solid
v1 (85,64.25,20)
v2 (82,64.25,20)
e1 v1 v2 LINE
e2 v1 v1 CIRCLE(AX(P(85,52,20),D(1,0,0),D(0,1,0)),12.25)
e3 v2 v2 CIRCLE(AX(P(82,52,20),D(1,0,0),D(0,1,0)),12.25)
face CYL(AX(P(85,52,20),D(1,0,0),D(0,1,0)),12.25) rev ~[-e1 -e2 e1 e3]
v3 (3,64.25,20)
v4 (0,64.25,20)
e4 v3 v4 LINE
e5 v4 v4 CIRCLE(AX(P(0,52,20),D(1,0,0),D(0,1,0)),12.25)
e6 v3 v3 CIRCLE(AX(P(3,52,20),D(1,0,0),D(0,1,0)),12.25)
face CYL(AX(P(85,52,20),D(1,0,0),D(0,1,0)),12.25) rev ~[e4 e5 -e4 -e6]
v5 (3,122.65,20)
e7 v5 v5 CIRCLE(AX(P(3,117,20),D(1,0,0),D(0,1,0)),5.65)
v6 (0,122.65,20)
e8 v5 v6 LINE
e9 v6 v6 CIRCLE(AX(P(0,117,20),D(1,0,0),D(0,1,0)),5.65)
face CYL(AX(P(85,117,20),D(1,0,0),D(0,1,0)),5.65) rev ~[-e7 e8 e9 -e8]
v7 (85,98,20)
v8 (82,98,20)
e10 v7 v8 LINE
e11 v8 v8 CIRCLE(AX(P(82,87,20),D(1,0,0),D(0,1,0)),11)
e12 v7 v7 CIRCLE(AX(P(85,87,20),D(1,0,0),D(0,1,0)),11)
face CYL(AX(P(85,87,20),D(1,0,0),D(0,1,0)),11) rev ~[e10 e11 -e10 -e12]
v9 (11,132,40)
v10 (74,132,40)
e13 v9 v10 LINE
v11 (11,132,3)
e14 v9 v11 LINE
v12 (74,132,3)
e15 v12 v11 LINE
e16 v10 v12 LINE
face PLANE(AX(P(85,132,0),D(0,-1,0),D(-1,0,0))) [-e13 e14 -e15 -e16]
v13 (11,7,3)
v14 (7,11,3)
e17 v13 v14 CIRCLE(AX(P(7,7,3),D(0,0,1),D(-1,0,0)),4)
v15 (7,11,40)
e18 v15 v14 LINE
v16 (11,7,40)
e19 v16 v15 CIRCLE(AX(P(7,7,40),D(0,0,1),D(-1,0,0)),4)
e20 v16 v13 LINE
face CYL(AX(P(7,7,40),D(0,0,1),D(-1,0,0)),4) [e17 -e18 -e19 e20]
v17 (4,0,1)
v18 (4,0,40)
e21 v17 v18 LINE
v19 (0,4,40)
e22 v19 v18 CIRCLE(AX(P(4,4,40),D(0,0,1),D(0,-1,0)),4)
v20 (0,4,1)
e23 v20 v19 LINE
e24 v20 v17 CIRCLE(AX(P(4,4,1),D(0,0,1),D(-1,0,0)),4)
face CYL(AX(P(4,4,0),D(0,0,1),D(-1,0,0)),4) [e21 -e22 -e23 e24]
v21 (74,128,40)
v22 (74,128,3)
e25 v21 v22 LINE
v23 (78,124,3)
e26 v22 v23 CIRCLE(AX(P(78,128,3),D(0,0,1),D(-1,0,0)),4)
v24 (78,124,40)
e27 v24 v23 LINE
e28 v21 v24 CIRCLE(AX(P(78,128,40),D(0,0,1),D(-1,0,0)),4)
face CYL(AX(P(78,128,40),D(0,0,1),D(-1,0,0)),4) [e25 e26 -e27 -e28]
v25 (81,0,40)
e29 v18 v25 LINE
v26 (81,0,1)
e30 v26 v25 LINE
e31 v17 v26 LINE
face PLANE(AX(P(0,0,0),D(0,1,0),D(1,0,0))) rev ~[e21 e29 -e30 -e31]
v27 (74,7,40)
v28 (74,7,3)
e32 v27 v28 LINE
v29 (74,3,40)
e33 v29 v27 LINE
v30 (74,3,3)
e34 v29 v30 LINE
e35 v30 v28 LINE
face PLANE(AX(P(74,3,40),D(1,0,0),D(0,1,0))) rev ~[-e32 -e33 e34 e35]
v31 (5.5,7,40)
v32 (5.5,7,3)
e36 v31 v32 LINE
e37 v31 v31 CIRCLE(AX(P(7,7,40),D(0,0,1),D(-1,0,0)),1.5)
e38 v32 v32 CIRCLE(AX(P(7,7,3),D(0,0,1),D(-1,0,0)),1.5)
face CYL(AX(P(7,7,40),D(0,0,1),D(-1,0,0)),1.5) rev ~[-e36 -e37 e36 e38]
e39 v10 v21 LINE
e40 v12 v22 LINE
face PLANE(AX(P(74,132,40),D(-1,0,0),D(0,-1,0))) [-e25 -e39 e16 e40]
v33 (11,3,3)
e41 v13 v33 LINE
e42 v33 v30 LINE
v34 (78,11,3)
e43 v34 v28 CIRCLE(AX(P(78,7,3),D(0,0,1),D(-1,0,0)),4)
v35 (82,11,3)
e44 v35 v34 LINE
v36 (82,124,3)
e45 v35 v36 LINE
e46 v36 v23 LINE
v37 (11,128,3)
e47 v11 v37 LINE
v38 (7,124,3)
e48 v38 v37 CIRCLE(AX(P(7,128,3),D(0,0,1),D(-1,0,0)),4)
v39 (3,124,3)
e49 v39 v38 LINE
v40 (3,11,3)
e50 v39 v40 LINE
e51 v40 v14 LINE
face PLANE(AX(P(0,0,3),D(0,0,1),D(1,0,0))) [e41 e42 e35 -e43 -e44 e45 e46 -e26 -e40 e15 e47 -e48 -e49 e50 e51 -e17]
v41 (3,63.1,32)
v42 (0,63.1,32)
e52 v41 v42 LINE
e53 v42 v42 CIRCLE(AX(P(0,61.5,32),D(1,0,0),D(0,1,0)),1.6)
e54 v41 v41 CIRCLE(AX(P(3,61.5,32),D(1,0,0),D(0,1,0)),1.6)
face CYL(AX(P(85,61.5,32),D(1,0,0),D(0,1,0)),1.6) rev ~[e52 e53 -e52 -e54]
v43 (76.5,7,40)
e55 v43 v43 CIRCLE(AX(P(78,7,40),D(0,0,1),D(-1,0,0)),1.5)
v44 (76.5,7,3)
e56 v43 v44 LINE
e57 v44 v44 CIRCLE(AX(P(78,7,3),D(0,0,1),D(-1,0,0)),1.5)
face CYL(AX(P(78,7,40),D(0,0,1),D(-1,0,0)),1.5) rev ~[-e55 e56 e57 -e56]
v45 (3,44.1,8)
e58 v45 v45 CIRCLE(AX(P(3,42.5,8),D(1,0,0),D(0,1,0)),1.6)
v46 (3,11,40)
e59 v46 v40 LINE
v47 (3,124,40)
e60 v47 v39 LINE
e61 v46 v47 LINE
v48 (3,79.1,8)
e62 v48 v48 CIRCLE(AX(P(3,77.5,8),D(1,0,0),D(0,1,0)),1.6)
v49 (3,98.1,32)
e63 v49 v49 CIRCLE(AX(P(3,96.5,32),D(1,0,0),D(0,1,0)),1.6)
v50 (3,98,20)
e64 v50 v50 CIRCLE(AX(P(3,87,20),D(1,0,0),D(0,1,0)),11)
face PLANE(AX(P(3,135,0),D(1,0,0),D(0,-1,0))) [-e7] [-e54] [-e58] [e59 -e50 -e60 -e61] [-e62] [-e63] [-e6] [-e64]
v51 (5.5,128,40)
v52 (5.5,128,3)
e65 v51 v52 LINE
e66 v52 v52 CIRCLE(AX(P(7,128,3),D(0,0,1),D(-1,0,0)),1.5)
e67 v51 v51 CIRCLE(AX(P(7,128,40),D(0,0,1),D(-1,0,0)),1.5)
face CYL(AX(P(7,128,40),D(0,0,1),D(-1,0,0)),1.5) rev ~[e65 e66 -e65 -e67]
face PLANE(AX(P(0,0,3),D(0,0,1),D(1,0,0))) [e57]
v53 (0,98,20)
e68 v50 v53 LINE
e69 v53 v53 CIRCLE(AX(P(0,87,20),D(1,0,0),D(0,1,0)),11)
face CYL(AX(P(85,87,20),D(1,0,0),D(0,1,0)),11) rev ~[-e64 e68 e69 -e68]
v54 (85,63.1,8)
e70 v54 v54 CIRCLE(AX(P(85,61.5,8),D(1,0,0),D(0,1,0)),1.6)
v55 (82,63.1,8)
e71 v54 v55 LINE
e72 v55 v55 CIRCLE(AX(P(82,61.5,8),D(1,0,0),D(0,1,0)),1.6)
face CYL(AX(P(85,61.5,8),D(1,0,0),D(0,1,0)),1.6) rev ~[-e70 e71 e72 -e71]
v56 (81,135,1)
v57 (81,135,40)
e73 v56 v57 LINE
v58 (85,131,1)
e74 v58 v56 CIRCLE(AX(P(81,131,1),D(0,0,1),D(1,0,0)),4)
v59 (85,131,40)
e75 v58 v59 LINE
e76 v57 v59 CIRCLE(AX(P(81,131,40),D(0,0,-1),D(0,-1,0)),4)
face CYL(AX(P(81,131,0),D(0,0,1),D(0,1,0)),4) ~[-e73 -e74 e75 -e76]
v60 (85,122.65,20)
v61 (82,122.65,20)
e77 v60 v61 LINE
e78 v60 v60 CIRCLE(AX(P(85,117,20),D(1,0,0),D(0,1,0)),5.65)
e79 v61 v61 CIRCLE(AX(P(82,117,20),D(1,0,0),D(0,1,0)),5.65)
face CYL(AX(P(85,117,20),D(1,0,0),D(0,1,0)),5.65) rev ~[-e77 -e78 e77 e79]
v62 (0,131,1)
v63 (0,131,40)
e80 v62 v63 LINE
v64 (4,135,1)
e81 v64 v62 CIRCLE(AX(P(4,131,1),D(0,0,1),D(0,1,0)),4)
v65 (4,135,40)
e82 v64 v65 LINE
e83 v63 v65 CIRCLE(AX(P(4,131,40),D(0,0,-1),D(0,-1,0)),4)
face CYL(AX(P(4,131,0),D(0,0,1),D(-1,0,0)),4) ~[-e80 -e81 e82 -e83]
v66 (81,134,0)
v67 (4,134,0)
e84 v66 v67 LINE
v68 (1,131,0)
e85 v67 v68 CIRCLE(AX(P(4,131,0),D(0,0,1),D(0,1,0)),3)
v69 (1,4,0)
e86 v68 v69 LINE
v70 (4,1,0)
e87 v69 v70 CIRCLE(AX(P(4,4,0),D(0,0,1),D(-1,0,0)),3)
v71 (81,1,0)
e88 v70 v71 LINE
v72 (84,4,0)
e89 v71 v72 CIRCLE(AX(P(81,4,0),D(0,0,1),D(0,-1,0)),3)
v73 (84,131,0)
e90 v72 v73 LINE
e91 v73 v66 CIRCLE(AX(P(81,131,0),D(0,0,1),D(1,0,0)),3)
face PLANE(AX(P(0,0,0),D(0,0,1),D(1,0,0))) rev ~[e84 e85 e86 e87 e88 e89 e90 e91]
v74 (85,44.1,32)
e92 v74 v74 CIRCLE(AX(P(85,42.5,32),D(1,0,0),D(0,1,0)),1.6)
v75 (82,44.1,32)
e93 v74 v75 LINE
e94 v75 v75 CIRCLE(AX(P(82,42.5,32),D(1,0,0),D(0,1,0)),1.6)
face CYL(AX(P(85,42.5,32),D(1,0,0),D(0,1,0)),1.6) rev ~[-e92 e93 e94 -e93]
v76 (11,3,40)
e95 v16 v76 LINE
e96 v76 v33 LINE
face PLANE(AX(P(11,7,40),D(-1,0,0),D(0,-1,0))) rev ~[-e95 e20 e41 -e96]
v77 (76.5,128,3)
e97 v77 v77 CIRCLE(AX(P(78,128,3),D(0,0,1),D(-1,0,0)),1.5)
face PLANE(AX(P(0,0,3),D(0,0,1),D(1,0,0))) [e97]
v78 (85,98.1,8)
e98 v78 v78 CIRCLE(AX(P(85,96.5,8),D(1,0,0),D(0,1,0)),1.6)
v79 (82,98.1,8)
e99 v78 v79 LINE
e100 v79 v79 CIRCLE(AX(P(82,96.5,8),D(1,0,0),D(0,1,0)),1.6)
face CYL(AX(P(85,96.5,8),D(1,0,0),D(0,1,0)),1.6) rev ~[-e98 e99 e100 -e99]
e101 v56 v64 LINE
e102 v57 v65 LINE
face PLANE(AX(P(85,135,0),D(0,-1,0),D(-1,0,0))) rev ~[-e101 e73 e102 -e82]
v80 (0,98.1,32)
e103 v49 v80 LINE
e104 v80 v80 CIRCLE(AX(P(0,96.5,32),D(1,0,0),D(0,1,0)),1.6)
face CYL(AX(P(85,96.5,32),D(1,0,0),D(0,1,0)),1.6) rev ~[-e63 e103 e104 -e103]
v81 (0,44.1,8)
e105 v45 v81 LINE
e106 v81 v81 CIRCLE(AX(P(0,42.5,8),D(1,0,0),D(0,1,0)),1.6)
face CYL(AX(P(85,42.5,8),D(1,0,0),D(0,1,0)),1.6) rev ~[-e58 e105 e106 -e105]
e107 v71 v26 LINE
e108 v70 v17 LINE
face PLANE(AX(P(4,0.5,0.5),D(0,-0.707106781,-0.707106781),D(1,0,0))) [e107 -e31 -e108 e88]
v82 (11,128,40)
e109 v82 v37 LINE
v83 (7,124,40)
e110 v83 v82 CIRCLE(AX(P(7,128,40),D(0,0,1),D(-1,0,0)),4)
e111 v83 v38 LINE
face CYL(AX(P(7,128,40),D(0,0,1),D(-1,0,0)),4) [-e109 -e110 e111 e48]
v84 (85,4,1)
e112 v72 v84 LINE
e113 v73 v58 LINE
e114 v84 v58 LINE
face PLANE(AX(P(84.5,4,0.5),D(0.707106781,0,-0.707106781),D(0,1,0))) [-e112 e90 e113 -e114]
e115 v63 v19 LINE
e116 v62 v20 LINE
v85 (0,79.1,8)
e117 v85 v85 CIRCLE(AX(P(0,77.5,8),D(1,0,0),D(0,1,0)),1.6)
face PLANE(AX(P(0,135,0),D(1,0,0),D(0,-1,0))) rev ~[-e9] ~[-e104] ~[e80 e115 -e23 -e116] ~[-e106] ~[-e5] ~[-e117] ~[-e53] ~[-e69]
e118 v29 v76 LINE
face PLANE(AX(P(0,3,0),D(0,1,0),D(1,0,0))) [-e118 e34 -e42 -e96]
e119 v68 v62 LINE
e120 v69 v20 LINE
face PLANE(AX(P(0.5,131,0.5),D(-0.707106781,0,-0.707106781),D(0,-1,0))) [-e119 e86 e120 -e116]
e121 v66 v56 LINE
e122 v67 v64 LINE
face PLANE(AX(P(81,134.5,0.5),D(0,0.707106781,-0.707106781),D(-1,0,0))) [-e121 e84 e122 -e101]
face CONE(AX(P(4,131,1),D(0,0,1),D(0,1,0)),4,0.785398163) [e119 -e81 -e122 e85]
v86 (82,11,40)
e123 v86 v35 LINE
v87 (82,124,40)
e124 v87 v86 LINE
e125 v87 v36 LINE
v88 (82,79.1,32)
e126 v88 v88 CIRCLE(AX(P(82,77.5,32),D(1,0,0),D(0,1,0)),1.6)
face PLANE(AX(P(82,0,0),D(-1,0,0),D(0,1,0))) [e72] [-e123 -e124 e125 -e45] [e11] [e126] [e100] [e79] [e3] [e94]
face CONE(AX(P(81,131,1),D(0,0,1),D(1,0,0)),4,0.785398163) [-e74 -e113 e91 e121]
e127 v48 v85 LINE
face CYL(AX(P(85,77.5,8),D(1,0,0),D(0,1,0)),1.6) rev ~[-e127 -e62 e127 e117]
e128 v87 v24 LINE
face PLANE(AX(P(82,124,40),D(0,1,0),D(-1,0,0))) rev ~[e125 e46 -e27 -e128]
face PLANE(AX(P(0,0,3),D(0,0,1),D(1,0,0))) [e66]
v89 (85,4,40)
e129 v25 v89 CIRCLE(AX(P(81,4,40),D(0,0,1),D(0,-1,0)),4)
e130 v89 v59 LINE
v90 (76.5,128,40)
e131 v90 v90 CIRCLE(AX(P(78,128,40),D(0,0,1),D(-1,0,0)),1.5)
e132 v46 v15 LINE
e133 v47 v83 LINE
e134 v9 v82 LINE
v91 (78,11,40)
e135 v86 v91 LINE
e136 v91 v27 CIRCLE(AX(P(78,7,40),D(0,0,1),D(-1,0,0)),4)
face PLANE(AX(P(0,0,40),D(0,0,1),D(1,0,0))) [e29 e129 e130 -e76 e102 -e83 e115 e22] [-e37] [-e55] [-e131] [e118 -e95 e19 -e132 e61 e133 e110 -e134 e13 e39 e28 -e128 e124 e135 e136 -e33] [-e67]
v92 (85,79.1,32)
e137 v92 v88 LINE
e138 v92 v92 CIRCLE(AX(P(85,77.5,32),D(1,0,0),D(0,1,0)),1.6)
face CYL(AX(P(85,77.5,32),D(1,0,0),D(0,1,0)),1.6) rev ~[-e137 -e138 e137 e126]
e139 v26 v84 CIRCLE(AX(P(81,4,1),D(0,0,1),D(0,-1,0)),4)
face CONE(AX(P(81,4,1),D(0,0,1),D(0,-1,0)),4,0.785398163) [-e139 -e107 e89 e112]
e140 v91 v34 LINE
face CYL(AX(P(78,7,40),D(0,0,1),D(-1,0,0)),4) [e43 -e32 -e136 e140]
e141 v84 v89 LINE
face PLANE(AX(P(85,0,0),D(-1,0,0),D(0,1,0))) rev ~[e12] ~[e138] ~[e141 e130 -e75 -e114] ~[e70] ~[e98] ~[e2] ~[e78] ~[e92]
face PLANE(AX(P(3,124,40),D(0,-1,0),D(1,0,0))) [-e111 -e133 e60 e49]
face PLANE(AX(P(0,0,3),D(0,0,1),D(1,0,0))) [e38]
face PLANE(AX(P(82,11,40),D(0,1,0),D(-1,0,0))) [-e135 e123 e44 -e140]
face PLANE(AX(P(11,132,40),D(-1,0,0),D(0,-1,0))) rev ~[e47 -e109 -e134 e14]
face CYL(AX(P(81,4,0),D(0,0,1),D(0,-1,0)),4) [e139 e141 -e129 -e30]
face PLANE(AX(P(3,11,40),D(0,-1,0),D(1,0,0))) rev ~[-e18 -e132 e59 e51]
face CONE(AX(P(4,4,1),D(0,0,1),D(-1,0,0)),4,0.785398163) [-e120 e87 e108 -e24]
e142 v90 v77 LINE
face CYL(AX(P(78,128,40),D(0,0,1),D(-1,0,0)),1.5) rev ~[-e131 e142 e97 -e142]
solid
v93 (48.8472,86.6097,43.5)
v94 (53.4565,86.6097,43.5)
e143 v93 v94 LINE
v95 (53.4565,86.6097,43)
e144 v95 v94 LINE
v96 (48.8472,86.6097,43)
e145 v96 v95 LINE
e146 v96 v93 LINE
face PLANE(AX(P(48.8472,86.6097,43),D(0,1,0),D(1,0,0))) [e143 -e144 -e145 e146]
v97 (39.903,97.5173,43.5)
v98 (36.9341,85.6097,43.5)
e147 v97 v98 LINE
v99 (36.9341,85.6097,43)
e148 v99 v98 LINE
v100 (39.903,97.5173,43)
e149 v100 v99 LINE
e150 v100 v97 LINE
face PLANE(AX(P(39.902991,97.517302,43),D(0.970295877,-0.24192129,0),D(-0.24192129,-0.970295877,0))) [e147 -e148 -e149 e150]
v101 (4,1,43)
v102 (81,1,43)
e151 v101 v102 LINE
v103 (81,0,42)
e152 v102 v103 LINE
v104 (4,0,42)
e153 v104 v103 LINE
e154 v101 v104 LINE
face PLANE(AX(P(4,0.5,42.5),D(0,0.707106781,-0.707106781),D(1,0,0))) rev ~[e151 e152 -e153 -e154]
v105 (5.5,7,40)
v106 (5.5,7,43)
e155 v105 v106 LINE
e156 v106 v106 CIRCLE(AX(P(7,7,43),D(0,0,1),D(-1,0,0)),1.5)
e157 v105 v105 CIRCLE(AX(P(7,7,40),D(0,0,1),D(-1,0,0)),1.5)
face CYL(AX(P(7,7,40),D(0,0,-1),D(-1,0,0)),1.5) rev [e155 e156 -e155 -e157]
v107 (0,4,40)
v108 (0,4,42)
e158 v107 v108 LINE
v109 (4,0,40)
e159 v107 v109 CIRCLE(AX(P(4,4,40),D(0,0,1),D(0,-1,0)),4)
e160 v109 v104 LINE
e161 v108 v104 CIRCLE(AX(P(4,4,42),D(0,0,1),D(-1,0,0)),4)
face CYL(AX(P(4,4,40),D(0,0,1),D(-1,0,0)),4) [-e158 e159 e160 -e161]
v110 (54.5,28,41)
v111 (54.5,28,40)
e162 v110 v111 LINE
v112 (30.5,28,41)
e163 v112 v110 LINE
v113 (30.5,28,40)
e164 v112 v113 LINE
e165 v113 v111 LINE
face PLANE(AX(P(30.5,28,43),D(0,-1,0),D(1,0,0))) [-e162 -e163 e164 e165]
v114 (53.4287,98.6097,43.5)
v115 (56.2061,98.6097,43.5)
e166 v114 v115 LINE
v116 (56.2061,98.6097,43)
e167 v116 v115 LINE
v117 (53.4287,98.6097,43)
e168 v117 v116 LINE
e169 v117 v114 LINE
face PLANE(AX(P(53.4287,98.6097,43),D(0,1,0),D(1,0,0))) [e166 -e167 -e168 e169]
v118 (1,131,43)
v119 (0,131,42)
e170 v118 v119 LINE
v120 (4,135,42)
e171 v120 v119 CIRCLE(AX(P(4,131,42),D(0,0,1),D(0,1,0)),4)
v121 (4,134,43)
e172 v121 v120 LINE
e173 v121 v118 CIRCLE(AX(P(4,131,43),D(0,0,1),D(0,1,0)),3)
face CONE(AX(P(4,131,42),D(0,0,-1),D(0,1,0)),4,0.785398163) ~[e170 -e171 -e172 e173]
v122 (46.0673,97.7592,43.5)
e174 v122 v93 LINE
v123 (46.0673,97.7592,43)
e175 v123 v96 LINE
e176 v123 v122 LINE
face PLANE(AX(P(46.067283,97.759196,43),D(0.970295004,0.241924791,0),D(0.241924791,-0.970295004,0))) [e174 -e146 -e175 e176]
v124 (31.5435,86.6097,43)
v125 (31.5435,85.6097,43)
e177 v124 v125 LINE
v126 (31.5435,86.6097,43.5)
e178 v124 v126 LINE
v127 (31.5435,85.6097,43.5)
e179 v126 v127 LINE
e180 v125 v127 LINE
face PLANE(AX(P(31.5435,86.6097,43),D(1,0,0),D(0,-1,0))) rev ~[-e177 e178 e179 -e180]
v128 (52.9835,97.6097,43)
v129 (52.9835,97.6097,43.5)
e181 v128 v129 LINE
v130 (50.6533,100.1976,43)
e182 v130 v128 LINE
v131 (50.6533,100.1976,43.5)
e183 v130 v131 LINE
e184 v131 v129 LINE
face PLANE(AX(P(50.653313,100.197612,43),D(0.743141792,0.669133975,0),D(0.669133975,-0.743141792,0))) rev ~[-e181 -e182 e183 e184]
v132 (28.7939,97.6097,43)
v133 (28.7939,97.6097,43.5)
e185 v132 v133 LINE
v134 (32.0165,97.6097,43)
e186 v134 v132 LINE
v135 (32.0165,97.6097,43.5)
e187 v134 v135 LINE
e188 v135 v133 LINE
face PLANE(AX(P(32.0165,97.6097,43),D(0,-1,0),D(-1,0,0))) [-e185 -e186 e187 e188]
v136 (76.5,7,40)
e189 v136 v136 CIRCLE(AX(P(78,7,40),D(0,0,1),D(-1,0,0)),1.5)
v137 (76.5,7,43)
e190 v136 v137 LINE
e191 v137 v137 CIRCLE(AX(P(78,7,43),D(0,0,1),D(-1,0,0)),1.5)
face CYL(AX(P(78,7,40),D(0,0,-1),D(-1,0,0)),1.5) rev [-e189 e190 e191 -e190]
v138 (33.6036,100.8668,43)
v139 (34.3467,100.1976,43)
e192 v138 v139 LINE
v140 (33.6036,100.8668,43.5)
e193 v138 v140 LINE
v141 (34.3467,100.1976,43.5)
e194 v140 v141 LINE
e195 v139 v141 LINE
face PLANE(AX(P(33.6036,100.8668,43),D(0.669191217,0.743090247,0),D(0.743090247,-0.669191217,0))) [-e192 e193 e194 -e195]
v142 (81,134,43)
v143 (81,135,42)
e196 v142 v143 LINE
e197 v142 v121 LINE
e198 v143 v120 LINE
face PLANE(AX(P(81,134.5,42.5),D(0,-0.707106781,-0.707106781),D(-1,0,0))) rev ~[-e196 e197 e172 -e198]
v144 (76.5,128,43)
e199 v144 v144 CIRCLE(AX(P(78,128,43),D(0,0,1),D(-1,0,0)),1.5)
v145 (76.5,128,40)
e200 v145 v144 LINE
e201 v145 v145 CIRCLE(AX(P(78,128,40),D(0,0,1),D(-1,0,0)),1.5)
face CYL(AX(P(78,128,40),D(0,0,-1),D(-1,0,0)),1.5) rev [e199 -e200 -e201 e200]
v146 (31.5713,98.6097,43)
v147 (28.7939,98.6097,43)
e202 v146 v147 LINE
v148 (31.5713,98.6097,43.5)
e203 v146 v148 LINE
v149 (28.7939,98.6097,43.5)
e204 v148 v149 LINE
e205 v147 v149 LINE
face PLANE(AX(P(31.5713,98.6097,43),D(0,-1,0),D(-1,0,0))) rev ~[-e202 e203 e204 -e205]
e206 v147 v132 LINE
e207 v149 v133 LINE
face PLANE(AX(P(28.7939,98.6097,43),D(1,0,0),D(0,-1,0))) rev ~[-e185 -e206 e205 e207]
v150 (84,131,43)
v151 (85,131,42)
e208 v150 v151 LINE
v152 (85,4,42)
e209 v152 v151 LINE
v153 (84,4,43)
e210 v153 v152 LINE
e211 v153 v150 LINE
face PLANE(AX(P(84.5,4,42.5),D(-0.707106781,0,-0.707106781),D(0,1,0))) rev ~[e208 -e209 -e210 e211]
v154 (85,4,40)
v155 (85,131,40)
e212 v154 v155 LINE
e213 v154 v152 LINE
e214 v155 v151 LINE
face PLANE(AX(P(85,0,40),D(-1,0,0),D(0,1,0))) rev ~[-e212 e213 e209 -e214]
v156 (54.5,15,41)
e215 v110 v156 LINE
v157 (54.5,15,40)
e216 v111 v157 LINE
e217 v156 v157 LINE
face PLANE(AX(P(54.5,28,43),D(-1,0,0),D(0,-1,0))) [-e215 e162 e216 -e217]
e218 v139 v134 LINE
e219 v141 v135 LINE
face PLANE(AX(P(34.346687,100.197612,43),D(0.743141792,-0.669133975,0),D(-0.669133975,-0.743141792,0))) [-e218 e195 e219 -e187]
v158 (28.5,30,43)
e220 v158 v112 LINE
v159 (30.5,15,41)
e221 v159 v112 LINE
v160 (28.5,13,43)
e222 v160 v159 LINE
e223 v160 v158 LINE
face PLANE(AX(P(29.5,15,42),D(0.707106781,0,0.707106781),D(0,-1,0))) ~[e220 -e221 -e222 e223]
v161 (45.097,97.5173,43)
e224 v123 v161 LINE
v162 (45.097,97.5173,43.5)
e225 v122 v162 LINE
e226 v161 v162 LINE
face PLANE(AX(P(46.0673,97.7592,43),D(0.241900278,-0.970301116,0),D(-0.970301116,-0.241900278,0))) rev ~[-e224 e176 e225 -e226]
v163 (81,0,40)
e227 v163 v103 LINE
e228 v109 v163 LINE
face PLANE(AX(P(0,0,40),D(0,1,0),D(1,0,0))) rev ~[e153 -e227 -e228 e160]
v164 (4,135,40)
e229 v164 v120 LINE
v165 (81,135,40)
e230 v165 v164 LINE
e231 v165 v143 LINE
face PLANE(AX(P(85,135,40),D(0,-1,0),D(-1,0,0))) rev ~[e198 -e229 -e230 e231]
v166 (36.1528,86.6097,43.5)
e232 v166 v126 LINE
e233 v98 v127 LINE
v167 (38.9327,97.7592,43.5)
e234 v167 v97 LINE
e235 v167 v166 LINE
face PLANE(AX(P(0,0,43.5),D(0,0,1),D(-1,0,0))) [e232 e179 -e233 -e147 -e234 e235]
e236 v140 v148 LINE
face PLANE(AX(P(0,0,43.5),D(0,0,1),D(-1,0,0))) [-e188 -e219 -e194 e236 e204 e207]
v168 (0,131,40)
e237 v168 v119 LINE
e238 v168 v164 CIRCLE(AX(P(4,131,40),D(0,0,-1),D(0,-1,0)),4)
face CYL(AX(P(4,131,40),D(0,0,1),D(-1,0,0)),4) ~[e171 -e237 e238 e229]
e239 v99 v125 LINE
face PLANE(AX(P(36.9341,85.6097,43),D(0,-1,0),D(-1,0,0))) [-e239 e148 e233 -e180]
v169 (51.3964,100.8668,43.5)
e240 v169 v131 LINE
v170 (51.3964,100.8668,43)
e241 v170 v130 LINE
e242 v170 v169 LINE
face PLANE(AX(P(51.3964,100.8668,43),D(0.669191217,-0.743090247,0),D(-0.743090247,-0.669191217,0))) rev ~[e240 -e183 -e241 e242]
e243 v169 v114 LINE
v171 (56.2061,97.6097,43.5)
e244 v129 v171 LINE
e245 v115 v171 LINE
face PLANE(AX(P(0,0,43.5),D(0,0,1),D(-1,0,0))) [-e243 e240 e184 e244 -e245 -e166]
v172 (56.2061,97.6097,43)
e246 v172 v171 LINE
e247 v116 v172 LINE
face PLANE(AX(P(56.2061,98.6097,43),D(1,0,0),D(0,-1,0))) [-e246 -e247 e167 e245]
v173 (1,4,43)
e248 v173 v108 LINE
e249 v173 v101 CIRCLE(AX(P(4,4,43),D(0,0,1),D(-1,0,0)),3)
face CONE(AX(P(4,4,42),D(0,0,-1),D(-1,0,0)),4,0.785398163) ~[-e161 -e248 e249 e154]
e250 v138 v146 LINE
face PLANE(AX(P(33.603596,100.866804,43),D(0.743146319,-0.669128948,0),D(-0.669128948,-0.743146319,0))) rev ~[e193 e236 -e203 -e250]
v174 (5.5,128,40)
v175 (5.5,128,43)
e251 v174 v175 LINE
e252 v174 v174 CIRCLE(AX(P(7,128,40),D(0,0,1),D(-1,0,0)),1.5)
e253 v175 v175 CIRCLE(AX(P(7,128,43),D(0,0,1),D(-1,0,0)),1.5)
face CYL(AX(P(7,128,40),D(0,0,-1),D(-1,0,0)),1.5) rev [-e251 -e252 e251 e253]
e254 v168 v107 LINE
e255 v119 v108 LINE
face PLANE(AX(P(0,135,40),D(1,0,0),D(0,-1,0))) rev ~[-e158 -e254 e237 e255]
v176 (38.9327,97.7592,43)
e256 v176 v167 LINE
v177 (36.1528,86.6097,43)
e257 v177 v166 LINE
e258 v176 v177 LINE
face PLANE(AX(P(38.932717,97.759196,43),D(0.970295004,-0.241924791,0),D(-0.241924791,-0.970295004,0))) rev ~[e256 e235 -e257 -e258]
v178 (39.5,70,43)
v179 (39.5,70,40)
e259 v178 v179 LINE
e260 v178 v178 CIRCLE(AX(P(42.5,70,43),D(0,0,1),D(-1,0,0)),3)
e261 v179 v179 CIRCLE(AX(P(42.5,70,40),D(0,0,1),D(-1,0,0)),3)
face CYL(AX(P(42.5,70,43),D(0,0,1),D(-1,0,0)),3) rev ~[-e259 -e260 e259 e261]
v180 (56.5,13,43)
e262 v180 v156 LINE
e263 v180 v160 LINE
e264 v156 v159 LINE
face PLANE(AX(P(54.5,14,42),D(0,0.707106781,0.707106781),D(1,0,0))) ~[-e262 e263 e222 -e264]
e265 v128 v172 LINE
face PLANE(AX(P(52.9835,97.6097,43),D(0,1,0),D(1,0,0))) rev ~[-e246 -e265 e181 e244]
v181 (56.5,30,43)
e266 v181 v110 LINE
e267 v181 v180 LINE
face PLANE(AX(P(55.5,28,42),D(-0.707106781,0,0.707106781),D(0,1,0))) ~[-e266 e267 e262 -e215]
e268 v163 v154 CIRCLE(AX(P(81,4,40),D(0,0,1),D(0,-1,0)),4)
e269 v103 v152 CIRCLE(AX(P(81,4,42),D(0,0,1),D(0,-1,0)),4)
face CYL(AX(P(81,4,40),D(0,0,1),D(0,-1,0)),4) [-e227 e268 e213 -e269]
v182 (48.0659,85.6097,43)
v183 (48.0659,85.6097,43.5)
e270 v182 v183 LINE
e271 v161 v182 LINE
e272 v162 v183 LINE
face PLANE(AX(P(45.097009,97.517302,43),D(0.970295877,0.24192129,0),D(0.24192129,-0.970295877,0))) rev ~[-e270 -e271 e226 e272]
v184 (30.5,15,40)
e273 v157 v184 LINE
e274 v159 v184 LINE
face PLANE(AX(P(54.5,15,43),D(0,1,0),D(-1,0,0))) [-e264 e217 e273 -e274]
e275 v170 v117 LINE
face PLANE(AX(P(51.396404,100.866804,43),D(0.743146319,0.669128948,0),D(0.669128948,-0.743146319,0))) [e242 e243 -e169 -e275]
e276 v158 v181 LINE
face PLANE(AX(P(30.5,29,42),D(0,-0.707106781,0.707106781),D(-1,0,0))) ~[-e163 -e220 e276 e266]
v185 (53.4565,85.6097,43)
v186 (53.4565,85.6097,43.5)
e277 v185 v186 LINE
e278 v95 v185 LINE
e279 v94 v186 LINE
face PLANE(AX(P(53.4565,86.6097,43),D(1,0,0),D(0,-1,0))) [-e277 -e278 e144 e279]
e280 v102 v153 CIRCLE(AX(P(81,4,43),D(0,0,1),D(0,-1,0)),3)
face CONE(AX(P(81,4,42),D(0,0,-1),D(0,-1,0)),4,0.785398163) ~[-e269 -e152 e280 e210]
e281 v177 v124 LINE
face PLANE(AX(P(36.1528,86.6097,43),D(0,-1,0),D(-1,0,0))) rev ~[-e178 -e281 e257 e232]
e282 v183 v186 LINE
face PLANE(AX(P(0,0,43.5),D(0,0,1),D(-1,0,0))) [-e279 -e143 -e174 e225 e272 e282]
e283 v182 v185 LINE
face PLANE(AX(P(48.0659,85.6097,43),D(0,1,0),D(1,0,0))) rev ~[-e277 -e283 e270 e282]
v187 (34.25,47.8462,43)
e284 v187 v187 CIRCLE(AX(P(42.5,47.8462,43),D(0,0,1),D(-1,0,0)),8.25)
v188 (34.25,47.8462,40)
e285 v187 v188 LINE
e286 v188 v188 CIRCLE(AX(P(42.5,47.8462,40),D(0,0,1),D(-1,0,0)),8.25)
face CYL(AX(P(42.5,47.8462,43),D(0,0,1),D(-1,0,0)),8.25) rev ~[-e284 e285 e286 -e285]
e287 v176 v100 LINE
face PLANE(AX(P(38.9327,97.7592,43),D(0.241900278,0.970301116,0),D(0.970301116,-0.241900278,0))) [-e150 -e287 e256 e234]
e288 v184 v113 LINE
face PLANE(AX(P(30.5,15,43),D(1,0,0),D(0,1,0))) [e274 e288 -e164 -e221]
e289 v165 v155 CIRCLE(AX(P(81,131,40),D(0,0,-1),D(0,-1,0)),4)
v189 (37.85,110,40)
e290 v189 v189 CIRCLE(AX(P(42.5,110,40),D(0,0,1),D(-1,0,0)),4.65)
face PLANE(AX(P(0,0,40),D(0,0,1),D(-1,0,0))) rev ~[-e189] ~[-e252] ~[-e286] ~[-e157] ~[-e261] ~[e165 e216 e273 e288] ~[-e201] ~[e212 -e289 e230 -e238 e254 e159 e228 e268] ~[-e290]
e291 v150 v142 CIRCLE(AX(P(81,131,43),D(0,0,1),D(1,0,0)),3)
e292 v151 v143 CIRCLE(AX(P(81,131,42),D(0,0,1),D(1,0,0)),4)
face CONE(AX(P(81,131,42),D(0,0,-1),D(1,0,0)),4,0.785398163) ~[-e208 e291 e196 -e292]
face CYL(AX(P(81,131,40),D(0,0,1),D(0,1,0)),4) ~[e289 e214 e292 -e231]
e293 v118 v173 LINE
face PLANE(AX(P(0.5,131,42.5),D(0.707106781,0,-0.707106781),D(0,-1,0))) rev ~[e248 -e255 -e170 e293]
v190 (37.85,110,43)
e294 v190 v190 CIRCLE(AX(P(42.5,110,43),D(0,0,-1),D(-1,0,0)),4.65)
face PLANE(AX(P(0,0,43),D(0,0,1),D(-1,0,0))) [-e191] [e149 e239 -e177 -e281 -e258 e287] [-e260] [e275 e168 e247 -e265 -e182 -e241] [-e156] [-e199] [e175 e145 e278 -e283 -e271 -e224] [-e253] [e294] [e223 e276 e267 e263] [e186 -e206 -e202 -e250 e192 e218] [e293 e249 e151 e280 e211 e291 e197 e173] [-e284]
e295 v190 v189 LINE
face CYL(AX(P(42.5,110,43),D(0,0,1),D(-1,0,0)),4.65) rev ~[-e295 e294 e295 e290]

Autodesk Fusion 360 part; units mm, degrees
sketch "Sketch1" plane through (0, 0, 0) normal (0, 0, 1) x (1, 0, 0) in component "Case"
  line L0 (0, 0) -> (85, 0)
  line L1 (85, 0) -> (85, 135)
  line L2 (85, 135) -> (0, 135)
  line L3 (0, 135) -> (0, 0)
  dimension "d1" = 85
  dimension "d2" = 135
extrude "Extrude1" add sketch "Sketch1" along normal blind 40 makes body 1 in component "Case"
shell "Shell1" thickness 3 removed faces 1 at (28.3333, 90, 40) on bodies 1 in component "Case"
sketch "Sketch2" plane through (0, 0, 40) normal (0, 0, 1) x (-1, 0, 0) in component "Case"
  line L0 (-3, -132) -> (-82, -132)
  line L1 (-82, -132) -> (-82, -3)
  line L2 (-82, -3) -> (-3, -3)
  line L3 (-3, -3) -> (-3, -132)
  line L4 (0, -135) -> (0, 0)
  line L5 (0, 0) -> (-85, 0)
  line L6 (-85, 0) -> (-85, -135)
  line L7 (-85, -135) -> (0, -135)
  line L8 (-3, -3) -> (-82, -82) construction
  line L9 (-3, -3) -> (129.9361, -3) construction
  line L10 (-82, -3) -> (-3, -82) construction
  line L11 (-3, -132) -> (-82, -53) construction
  line L12 (-82, -132) -> (-3, -53) construction
  circle A0 centre (-7, -7) radius 4
  circle A1 centre (-78, -7) radius 4
  circle A2 centre (-7, -128) radius 4
  circle A3 centre (-78, -128) radius 4
  line L13 (-11, -7) -> (-11, -3)
  line L14 (-3, -11) -> (-7, -11)
  line L15 (-3, -124) -> (-7, -124)
  line L16 (-11, -132) -> (-11, -128)
  line L17 (-74, -132) -> (-74, -128)
  line L18 (-82, -124) -> (-78, -124)
  line L19 (-74, -3) -> (-74, -7)
  line L20 (-82, -11) -> (-78, -11)
  circle A4 centre (-7, -7) radius 1.5
  circle A5 centre (-78, -7) radius 1.5
  circle A6 centre (-7, -128) radius 1.5
  circle A7 centre (-78, -128) radius 1.5
  dimension "d6" = 135
  dimension "d7" = 90
  dimension "d8" = 90
  dimension "d9" = 8
  dimension "d10" = 8
  dimension "d11" = 8
  dimension "d12" = 8
  dimension "d13" = 3
  dimension "d14" = 3
  dimension "d15" = 3
  dimension "d16" = 3
extrude "Extrude2" add sketch "Sketch2" against normal up to surface (40 mm away) contours L0 A2 L16 | L0 A3 L17 | L0 L3 A2 | A2 | L0 L1 A3 | A3 | L3 A2 L15 | L1 A3 L18 | L3 A0 L14 | L1 A1 L20 | L2 L3 A0 | A0 | L1 L2 A1 | A1 | L2 A0 L13 | L2 A1 L19 bodies 1 in component "Case"
sketch "Sketch3" plane through (0, 0, 40) normal (0, 0, 1) x (-1, 0, 0) in component "Case"
  line L0 (0, 0) -> (-85, 0)
  line L1 (-85, 0) -> (-85, -135)
  line L2 (-85, -135) -> (0, -135)
  line L3 (0, -135) -> (0, 0)
  point P0 (-85, -135)
extrude "Extrude3" add sketch "Sketch3" along normal blind 3 separate body makes body 2 in component "Case"
sketch "Sketch4" plane through (85, 0, 0) normal (1, 0, 0) x (0, 1, 0) in component "Case"
  line L0 (0, 0) -> (135, 0)
  line L1 (135, 0) -> (135, 40)
  line L2 (135, 40) -> (0, 40)
  line L3 (0, 40) -> (0, 0)
  line L4 (0, 20) -> (135, 20) construction
  circle A0 centre (117, 20) radius 5.65
  circle A1 centre (87, 20) radius 11
  circle A2 centre (52, 20) radius 12.25
  line L5 (52, 20) -> (52, 0) construction
  line L6 (0, 8) -> (135, 8) construction
  line L7 (0, 32) -> (135, 32) construction
  line L8 (61.5, 8) -> (61.5, 32) construction
  line L9 (42.5, 8) -> (42.5, 32) construction
  circle A3 centre (42.5, 32) radius 1.6
  circle A4 centre (61.5, 8) radius 1.6
  circle A5 centre (42.5, 8) radius 1.6
  circle A6 centre (61.5, 32) radius 1.6
  line L10 (77.5, 32) -> (77.5, 8) construction
  line L11 (96.5, 32) -> (96.5, 8) construction
  line L12 (87, 20) -> (87, 8) construction
  circle A7 centre (77.5, 8) radius 1.6
  circle A8 centre (96.5, 32) radius 1.6
  circle A9 centre (77.5, 32) radius 1.6
  circle A10 centre (96.5, 8) radius 1.6
  dimension "d22" = 11.3
  dimension "d23" = 22
  dimension "d24" = 24.5
  dimension "d25" = 24
  dimension "d26" = 19
  dimension "d27" = 3.2
  dimension "d28" = 3.2
  dimension "d29" = 3.2
  dimension "d30" = 3.2
  dimension "d31" = 19
  dimension "d32" = 3.2
  dimension "d33" = 3.2
  dimension "d34" = 3.2
  dimension "d35" = 3.2
  dimension "d36" = 18
  dimension "d37" = 30
  dimension "d38" = 35
extrude "Extrude4" cut sketch "Sketch4" against normal up to surface (85 mm away) contours A0 | A1 | A2 bodies 1 in component "Case"
extrude "Extrude5" cut sketch "Sketch4" against normal up to surface (85 mm away) contours A5 | A6 | A7 | A8 bodies 1 in component "Case"
extrude "Extrude6" add sketch "Sketch4" against normal up to surface (3 mm away) contours A5 | A6 | A7 | A8 bodies 1 in component "Case"
extrude "Extrude7" cut sketch "Sketch4" against normal up to surface (3 mm away) contours A3 | A4 | A9 | A10 bodies 1 in component "Case"
sketch "Sketch5" plane through (0, 0, 43) normal (0, 0, 1) x (-1, 0, 0) in component "Case"
  line L0 (0, -135) -> (0, 0)
  line L1 (0, 0) -> (-85, 0)
  line L2 (-85, 0) -> (-85, -135)
  line L3 (-85, -135) -> (0, -135)
  line L4 (-42.5, -135) -> (-42.5, 0) construction
  circle A0 centre (-42.5, -70) radius 3
  circle A1 centre (-42.5, -110) radius 4.65
  line L5 (-30.5, -28) -> (-54.5, -28)
  line L6 (-54.5, -28) -> (-54.5, -15)
  line L7 (-54.5, -15) -> (-30.5, -15)
  line L8 (-30.5, -15) -> (-30.5, -28)
  circle A2 centre (-42.5, -47.8462) radius 8.25
  circle A3 centre (-42.5, -110) radius 12.75 construction
  line L9 (-42.5, -110) -> (-53.2061, -98.1097) construction
  line L10 (-42.5, -110) -> (-48.4565, -86.1097) construction
  line L11 (-53.2061, -98.1097) -> (-56.2061, -98.1097) construction
  line L12 (-48.4565, -86.1097) -> (-53.4565, -86.1097) construction
  line L13 (-42.1284, -109.6654) -> (-52.9835, -97.6097)
  line L14 (-52.9835, -97.6097) -> (-56.2061, -97.6097)
  line L15 (-42.8716, -110.3346) -> (-53.4287, -98.6097)
  line L16 (-53.4287, -98.6097) -> (-56.2061, -98.6097)
  line L17 (-42.0149, -109.879) -> (-48.0659, -85.6097)
  line L18 (-48.0659, -85.6097) -> (-53.4565, -85.6097)
  line L19 (-42.9851, -110.121) -> (-48.8472, -86.6097)
  line L20 (-48.8472, -86.6097) -> (-53.4565, -86.6097)
  line L21 (-56.2061, -98.6097) -> (-56.2061, -97.6097)
  line L22 (-53.4565, -86.6097) -> (-53.4565, -85.6097)
  line L23 (-51.3964, -100.8668) -> (-50.6533, -100.1976)
  line L24 (-46.0673, -97.7592) -> (-45.097, -97.5173)
  line L25 (-42.8716, -109.6654) -> (-32.0165, -97.6097)
  line L26 (-32.0165, -97.6097) -> (-28.7939, -97.6097)
  line L27 (-28.7939, -98.6097) -> (-28.7939, -97.6097)
  line L28 (-31.5713, -98.6097) -> (-28.7939, -98.6097)
  line L29 (-42.1284, -110.3346) -> (-31.5713, -98.6097)
  line L30 (-42.5, -110) -> (-31.7939, -98.1097) construction
  line L31 (-33.6036, -100.8668) -> (-34.3467, -100.1976)
  line L32 (-38.9327, -97.7592) -> (-39.903, -97.5173)
  line L33 (-36.1528, -86.6097) -> (-31.5435, -86.6097)
  line L34 (-31.5435, -86.6097) -> (-31.5435, -85.6097)
  line L35 (-36.9341, -85.6097) -> (-31.5435, -85.6097)
  line L36 (-42.9851, -109.879) -> (-36.9341, -85.6097)
  line L37 (-42.0149, -110.121) -> (-36.1528, -86.6097)
  line L38 (-42.5, -110) -> (-36.5435, -86.1097) construction
  dimension "d47" = 6
  dimension "d48" = 65
  dimension "d49" = 9.3
  dimension "d50" = 25
  dimension "d58" = 24
  dimension "d59" = 13
  dimension "d60" = 15
  dimension "d62" = 16.5
  dimension "d63" = 25.5
  dimension "d66" = 42
  dimension "d67" = 14
  dimension "d68" = 3
  dimension "d69" = 5
  dimension "d70" = 12
  dimension "d71" = 16
  dimension "d72" = 0.5
  dimension "d73" = -0.5
  dimension "d74" = 0.5
  dimension "d75" = -0.5
  dimension "d76" = 28
extrude "Extrude10" add sketch "Sketch5" along normal blind 0.5 contours L25 L26 L27 L28 L29 L31 | L13 L14 L15 L16 L21 L23 | L32 L33 L34 L35 L36 L37 | L17 L18 L19 L20 L22 L24 bodies 2 in component "Case"
extrude "Extrude8" cut sketch "Sketch5" against normal up to surface (3 mm away) contours A0 | A1 L13 L25 | A1 L25 L37 | A1 L13 L19 | A1 L17 L25 L36 L37 | A1 L13 L17 L19 L36 | A1 L17 L36 | L13 L17 L25 L36 | L5 L6 L7 L8 | A2 bodies 2 in component "Case"
extrude "Extrude9" cut sketch "Sketch2" along normal up to surface (3 mm away) contours A4 | A5 | A6 | A7 bodies 2 in component "Case"
fillet "Fillet1" radius 4 8 edges at (85, 135, 20) (0, 135, 20) (0, 0, 20) (85, 0, 20) (85, 135, 41.5) (0, 135, 41.5) (0, 0, 41.5) (85, 0, 41.5) on bodies 1 2 in component "Case"
chamfer "Chamfer1" distance 1 angle 45 16 edges at (42.5, 135, 0) (1.1716, 133.8284, 0) (0, 67.5, 0) (1.1716, 1.1716, 0) (42.5, 0, 0) (83.8284, 1.1716, 0) (85, 67.5, 0) (83.8284, 133.8284, 0) (42.5, 135, 43) (1.1716, 133.8284, 43) (0, 67.5, 43) (1.1716, 1.1716, 43) (42.5, 0, 43) (83.8284, 1.1716, 43) (85, 67.5, 43) (83.8284, 133.8284, 43) on bodies 1 2 in component "Case"
chamfer "Chamfer2" distance 2 angle 45 4 edges at (30.5, 21.5, 43) (42.5, 15, 43) (54.5, 21.5, 43) (42.5, 28, 43) on bodies 2 in component "Case"
component "Case" placed x (1, 0, 0) y (0, 1, 0) z (0, 0, 1) at (0, 0, 0)
equation "d10 = d9"
equation "d11 = d9"
equation "d12 = d9"
equation "d14 = d13"
equation "d15 = d13"
equation "d16 = d13"
equation "d67 = d66 / 3"
